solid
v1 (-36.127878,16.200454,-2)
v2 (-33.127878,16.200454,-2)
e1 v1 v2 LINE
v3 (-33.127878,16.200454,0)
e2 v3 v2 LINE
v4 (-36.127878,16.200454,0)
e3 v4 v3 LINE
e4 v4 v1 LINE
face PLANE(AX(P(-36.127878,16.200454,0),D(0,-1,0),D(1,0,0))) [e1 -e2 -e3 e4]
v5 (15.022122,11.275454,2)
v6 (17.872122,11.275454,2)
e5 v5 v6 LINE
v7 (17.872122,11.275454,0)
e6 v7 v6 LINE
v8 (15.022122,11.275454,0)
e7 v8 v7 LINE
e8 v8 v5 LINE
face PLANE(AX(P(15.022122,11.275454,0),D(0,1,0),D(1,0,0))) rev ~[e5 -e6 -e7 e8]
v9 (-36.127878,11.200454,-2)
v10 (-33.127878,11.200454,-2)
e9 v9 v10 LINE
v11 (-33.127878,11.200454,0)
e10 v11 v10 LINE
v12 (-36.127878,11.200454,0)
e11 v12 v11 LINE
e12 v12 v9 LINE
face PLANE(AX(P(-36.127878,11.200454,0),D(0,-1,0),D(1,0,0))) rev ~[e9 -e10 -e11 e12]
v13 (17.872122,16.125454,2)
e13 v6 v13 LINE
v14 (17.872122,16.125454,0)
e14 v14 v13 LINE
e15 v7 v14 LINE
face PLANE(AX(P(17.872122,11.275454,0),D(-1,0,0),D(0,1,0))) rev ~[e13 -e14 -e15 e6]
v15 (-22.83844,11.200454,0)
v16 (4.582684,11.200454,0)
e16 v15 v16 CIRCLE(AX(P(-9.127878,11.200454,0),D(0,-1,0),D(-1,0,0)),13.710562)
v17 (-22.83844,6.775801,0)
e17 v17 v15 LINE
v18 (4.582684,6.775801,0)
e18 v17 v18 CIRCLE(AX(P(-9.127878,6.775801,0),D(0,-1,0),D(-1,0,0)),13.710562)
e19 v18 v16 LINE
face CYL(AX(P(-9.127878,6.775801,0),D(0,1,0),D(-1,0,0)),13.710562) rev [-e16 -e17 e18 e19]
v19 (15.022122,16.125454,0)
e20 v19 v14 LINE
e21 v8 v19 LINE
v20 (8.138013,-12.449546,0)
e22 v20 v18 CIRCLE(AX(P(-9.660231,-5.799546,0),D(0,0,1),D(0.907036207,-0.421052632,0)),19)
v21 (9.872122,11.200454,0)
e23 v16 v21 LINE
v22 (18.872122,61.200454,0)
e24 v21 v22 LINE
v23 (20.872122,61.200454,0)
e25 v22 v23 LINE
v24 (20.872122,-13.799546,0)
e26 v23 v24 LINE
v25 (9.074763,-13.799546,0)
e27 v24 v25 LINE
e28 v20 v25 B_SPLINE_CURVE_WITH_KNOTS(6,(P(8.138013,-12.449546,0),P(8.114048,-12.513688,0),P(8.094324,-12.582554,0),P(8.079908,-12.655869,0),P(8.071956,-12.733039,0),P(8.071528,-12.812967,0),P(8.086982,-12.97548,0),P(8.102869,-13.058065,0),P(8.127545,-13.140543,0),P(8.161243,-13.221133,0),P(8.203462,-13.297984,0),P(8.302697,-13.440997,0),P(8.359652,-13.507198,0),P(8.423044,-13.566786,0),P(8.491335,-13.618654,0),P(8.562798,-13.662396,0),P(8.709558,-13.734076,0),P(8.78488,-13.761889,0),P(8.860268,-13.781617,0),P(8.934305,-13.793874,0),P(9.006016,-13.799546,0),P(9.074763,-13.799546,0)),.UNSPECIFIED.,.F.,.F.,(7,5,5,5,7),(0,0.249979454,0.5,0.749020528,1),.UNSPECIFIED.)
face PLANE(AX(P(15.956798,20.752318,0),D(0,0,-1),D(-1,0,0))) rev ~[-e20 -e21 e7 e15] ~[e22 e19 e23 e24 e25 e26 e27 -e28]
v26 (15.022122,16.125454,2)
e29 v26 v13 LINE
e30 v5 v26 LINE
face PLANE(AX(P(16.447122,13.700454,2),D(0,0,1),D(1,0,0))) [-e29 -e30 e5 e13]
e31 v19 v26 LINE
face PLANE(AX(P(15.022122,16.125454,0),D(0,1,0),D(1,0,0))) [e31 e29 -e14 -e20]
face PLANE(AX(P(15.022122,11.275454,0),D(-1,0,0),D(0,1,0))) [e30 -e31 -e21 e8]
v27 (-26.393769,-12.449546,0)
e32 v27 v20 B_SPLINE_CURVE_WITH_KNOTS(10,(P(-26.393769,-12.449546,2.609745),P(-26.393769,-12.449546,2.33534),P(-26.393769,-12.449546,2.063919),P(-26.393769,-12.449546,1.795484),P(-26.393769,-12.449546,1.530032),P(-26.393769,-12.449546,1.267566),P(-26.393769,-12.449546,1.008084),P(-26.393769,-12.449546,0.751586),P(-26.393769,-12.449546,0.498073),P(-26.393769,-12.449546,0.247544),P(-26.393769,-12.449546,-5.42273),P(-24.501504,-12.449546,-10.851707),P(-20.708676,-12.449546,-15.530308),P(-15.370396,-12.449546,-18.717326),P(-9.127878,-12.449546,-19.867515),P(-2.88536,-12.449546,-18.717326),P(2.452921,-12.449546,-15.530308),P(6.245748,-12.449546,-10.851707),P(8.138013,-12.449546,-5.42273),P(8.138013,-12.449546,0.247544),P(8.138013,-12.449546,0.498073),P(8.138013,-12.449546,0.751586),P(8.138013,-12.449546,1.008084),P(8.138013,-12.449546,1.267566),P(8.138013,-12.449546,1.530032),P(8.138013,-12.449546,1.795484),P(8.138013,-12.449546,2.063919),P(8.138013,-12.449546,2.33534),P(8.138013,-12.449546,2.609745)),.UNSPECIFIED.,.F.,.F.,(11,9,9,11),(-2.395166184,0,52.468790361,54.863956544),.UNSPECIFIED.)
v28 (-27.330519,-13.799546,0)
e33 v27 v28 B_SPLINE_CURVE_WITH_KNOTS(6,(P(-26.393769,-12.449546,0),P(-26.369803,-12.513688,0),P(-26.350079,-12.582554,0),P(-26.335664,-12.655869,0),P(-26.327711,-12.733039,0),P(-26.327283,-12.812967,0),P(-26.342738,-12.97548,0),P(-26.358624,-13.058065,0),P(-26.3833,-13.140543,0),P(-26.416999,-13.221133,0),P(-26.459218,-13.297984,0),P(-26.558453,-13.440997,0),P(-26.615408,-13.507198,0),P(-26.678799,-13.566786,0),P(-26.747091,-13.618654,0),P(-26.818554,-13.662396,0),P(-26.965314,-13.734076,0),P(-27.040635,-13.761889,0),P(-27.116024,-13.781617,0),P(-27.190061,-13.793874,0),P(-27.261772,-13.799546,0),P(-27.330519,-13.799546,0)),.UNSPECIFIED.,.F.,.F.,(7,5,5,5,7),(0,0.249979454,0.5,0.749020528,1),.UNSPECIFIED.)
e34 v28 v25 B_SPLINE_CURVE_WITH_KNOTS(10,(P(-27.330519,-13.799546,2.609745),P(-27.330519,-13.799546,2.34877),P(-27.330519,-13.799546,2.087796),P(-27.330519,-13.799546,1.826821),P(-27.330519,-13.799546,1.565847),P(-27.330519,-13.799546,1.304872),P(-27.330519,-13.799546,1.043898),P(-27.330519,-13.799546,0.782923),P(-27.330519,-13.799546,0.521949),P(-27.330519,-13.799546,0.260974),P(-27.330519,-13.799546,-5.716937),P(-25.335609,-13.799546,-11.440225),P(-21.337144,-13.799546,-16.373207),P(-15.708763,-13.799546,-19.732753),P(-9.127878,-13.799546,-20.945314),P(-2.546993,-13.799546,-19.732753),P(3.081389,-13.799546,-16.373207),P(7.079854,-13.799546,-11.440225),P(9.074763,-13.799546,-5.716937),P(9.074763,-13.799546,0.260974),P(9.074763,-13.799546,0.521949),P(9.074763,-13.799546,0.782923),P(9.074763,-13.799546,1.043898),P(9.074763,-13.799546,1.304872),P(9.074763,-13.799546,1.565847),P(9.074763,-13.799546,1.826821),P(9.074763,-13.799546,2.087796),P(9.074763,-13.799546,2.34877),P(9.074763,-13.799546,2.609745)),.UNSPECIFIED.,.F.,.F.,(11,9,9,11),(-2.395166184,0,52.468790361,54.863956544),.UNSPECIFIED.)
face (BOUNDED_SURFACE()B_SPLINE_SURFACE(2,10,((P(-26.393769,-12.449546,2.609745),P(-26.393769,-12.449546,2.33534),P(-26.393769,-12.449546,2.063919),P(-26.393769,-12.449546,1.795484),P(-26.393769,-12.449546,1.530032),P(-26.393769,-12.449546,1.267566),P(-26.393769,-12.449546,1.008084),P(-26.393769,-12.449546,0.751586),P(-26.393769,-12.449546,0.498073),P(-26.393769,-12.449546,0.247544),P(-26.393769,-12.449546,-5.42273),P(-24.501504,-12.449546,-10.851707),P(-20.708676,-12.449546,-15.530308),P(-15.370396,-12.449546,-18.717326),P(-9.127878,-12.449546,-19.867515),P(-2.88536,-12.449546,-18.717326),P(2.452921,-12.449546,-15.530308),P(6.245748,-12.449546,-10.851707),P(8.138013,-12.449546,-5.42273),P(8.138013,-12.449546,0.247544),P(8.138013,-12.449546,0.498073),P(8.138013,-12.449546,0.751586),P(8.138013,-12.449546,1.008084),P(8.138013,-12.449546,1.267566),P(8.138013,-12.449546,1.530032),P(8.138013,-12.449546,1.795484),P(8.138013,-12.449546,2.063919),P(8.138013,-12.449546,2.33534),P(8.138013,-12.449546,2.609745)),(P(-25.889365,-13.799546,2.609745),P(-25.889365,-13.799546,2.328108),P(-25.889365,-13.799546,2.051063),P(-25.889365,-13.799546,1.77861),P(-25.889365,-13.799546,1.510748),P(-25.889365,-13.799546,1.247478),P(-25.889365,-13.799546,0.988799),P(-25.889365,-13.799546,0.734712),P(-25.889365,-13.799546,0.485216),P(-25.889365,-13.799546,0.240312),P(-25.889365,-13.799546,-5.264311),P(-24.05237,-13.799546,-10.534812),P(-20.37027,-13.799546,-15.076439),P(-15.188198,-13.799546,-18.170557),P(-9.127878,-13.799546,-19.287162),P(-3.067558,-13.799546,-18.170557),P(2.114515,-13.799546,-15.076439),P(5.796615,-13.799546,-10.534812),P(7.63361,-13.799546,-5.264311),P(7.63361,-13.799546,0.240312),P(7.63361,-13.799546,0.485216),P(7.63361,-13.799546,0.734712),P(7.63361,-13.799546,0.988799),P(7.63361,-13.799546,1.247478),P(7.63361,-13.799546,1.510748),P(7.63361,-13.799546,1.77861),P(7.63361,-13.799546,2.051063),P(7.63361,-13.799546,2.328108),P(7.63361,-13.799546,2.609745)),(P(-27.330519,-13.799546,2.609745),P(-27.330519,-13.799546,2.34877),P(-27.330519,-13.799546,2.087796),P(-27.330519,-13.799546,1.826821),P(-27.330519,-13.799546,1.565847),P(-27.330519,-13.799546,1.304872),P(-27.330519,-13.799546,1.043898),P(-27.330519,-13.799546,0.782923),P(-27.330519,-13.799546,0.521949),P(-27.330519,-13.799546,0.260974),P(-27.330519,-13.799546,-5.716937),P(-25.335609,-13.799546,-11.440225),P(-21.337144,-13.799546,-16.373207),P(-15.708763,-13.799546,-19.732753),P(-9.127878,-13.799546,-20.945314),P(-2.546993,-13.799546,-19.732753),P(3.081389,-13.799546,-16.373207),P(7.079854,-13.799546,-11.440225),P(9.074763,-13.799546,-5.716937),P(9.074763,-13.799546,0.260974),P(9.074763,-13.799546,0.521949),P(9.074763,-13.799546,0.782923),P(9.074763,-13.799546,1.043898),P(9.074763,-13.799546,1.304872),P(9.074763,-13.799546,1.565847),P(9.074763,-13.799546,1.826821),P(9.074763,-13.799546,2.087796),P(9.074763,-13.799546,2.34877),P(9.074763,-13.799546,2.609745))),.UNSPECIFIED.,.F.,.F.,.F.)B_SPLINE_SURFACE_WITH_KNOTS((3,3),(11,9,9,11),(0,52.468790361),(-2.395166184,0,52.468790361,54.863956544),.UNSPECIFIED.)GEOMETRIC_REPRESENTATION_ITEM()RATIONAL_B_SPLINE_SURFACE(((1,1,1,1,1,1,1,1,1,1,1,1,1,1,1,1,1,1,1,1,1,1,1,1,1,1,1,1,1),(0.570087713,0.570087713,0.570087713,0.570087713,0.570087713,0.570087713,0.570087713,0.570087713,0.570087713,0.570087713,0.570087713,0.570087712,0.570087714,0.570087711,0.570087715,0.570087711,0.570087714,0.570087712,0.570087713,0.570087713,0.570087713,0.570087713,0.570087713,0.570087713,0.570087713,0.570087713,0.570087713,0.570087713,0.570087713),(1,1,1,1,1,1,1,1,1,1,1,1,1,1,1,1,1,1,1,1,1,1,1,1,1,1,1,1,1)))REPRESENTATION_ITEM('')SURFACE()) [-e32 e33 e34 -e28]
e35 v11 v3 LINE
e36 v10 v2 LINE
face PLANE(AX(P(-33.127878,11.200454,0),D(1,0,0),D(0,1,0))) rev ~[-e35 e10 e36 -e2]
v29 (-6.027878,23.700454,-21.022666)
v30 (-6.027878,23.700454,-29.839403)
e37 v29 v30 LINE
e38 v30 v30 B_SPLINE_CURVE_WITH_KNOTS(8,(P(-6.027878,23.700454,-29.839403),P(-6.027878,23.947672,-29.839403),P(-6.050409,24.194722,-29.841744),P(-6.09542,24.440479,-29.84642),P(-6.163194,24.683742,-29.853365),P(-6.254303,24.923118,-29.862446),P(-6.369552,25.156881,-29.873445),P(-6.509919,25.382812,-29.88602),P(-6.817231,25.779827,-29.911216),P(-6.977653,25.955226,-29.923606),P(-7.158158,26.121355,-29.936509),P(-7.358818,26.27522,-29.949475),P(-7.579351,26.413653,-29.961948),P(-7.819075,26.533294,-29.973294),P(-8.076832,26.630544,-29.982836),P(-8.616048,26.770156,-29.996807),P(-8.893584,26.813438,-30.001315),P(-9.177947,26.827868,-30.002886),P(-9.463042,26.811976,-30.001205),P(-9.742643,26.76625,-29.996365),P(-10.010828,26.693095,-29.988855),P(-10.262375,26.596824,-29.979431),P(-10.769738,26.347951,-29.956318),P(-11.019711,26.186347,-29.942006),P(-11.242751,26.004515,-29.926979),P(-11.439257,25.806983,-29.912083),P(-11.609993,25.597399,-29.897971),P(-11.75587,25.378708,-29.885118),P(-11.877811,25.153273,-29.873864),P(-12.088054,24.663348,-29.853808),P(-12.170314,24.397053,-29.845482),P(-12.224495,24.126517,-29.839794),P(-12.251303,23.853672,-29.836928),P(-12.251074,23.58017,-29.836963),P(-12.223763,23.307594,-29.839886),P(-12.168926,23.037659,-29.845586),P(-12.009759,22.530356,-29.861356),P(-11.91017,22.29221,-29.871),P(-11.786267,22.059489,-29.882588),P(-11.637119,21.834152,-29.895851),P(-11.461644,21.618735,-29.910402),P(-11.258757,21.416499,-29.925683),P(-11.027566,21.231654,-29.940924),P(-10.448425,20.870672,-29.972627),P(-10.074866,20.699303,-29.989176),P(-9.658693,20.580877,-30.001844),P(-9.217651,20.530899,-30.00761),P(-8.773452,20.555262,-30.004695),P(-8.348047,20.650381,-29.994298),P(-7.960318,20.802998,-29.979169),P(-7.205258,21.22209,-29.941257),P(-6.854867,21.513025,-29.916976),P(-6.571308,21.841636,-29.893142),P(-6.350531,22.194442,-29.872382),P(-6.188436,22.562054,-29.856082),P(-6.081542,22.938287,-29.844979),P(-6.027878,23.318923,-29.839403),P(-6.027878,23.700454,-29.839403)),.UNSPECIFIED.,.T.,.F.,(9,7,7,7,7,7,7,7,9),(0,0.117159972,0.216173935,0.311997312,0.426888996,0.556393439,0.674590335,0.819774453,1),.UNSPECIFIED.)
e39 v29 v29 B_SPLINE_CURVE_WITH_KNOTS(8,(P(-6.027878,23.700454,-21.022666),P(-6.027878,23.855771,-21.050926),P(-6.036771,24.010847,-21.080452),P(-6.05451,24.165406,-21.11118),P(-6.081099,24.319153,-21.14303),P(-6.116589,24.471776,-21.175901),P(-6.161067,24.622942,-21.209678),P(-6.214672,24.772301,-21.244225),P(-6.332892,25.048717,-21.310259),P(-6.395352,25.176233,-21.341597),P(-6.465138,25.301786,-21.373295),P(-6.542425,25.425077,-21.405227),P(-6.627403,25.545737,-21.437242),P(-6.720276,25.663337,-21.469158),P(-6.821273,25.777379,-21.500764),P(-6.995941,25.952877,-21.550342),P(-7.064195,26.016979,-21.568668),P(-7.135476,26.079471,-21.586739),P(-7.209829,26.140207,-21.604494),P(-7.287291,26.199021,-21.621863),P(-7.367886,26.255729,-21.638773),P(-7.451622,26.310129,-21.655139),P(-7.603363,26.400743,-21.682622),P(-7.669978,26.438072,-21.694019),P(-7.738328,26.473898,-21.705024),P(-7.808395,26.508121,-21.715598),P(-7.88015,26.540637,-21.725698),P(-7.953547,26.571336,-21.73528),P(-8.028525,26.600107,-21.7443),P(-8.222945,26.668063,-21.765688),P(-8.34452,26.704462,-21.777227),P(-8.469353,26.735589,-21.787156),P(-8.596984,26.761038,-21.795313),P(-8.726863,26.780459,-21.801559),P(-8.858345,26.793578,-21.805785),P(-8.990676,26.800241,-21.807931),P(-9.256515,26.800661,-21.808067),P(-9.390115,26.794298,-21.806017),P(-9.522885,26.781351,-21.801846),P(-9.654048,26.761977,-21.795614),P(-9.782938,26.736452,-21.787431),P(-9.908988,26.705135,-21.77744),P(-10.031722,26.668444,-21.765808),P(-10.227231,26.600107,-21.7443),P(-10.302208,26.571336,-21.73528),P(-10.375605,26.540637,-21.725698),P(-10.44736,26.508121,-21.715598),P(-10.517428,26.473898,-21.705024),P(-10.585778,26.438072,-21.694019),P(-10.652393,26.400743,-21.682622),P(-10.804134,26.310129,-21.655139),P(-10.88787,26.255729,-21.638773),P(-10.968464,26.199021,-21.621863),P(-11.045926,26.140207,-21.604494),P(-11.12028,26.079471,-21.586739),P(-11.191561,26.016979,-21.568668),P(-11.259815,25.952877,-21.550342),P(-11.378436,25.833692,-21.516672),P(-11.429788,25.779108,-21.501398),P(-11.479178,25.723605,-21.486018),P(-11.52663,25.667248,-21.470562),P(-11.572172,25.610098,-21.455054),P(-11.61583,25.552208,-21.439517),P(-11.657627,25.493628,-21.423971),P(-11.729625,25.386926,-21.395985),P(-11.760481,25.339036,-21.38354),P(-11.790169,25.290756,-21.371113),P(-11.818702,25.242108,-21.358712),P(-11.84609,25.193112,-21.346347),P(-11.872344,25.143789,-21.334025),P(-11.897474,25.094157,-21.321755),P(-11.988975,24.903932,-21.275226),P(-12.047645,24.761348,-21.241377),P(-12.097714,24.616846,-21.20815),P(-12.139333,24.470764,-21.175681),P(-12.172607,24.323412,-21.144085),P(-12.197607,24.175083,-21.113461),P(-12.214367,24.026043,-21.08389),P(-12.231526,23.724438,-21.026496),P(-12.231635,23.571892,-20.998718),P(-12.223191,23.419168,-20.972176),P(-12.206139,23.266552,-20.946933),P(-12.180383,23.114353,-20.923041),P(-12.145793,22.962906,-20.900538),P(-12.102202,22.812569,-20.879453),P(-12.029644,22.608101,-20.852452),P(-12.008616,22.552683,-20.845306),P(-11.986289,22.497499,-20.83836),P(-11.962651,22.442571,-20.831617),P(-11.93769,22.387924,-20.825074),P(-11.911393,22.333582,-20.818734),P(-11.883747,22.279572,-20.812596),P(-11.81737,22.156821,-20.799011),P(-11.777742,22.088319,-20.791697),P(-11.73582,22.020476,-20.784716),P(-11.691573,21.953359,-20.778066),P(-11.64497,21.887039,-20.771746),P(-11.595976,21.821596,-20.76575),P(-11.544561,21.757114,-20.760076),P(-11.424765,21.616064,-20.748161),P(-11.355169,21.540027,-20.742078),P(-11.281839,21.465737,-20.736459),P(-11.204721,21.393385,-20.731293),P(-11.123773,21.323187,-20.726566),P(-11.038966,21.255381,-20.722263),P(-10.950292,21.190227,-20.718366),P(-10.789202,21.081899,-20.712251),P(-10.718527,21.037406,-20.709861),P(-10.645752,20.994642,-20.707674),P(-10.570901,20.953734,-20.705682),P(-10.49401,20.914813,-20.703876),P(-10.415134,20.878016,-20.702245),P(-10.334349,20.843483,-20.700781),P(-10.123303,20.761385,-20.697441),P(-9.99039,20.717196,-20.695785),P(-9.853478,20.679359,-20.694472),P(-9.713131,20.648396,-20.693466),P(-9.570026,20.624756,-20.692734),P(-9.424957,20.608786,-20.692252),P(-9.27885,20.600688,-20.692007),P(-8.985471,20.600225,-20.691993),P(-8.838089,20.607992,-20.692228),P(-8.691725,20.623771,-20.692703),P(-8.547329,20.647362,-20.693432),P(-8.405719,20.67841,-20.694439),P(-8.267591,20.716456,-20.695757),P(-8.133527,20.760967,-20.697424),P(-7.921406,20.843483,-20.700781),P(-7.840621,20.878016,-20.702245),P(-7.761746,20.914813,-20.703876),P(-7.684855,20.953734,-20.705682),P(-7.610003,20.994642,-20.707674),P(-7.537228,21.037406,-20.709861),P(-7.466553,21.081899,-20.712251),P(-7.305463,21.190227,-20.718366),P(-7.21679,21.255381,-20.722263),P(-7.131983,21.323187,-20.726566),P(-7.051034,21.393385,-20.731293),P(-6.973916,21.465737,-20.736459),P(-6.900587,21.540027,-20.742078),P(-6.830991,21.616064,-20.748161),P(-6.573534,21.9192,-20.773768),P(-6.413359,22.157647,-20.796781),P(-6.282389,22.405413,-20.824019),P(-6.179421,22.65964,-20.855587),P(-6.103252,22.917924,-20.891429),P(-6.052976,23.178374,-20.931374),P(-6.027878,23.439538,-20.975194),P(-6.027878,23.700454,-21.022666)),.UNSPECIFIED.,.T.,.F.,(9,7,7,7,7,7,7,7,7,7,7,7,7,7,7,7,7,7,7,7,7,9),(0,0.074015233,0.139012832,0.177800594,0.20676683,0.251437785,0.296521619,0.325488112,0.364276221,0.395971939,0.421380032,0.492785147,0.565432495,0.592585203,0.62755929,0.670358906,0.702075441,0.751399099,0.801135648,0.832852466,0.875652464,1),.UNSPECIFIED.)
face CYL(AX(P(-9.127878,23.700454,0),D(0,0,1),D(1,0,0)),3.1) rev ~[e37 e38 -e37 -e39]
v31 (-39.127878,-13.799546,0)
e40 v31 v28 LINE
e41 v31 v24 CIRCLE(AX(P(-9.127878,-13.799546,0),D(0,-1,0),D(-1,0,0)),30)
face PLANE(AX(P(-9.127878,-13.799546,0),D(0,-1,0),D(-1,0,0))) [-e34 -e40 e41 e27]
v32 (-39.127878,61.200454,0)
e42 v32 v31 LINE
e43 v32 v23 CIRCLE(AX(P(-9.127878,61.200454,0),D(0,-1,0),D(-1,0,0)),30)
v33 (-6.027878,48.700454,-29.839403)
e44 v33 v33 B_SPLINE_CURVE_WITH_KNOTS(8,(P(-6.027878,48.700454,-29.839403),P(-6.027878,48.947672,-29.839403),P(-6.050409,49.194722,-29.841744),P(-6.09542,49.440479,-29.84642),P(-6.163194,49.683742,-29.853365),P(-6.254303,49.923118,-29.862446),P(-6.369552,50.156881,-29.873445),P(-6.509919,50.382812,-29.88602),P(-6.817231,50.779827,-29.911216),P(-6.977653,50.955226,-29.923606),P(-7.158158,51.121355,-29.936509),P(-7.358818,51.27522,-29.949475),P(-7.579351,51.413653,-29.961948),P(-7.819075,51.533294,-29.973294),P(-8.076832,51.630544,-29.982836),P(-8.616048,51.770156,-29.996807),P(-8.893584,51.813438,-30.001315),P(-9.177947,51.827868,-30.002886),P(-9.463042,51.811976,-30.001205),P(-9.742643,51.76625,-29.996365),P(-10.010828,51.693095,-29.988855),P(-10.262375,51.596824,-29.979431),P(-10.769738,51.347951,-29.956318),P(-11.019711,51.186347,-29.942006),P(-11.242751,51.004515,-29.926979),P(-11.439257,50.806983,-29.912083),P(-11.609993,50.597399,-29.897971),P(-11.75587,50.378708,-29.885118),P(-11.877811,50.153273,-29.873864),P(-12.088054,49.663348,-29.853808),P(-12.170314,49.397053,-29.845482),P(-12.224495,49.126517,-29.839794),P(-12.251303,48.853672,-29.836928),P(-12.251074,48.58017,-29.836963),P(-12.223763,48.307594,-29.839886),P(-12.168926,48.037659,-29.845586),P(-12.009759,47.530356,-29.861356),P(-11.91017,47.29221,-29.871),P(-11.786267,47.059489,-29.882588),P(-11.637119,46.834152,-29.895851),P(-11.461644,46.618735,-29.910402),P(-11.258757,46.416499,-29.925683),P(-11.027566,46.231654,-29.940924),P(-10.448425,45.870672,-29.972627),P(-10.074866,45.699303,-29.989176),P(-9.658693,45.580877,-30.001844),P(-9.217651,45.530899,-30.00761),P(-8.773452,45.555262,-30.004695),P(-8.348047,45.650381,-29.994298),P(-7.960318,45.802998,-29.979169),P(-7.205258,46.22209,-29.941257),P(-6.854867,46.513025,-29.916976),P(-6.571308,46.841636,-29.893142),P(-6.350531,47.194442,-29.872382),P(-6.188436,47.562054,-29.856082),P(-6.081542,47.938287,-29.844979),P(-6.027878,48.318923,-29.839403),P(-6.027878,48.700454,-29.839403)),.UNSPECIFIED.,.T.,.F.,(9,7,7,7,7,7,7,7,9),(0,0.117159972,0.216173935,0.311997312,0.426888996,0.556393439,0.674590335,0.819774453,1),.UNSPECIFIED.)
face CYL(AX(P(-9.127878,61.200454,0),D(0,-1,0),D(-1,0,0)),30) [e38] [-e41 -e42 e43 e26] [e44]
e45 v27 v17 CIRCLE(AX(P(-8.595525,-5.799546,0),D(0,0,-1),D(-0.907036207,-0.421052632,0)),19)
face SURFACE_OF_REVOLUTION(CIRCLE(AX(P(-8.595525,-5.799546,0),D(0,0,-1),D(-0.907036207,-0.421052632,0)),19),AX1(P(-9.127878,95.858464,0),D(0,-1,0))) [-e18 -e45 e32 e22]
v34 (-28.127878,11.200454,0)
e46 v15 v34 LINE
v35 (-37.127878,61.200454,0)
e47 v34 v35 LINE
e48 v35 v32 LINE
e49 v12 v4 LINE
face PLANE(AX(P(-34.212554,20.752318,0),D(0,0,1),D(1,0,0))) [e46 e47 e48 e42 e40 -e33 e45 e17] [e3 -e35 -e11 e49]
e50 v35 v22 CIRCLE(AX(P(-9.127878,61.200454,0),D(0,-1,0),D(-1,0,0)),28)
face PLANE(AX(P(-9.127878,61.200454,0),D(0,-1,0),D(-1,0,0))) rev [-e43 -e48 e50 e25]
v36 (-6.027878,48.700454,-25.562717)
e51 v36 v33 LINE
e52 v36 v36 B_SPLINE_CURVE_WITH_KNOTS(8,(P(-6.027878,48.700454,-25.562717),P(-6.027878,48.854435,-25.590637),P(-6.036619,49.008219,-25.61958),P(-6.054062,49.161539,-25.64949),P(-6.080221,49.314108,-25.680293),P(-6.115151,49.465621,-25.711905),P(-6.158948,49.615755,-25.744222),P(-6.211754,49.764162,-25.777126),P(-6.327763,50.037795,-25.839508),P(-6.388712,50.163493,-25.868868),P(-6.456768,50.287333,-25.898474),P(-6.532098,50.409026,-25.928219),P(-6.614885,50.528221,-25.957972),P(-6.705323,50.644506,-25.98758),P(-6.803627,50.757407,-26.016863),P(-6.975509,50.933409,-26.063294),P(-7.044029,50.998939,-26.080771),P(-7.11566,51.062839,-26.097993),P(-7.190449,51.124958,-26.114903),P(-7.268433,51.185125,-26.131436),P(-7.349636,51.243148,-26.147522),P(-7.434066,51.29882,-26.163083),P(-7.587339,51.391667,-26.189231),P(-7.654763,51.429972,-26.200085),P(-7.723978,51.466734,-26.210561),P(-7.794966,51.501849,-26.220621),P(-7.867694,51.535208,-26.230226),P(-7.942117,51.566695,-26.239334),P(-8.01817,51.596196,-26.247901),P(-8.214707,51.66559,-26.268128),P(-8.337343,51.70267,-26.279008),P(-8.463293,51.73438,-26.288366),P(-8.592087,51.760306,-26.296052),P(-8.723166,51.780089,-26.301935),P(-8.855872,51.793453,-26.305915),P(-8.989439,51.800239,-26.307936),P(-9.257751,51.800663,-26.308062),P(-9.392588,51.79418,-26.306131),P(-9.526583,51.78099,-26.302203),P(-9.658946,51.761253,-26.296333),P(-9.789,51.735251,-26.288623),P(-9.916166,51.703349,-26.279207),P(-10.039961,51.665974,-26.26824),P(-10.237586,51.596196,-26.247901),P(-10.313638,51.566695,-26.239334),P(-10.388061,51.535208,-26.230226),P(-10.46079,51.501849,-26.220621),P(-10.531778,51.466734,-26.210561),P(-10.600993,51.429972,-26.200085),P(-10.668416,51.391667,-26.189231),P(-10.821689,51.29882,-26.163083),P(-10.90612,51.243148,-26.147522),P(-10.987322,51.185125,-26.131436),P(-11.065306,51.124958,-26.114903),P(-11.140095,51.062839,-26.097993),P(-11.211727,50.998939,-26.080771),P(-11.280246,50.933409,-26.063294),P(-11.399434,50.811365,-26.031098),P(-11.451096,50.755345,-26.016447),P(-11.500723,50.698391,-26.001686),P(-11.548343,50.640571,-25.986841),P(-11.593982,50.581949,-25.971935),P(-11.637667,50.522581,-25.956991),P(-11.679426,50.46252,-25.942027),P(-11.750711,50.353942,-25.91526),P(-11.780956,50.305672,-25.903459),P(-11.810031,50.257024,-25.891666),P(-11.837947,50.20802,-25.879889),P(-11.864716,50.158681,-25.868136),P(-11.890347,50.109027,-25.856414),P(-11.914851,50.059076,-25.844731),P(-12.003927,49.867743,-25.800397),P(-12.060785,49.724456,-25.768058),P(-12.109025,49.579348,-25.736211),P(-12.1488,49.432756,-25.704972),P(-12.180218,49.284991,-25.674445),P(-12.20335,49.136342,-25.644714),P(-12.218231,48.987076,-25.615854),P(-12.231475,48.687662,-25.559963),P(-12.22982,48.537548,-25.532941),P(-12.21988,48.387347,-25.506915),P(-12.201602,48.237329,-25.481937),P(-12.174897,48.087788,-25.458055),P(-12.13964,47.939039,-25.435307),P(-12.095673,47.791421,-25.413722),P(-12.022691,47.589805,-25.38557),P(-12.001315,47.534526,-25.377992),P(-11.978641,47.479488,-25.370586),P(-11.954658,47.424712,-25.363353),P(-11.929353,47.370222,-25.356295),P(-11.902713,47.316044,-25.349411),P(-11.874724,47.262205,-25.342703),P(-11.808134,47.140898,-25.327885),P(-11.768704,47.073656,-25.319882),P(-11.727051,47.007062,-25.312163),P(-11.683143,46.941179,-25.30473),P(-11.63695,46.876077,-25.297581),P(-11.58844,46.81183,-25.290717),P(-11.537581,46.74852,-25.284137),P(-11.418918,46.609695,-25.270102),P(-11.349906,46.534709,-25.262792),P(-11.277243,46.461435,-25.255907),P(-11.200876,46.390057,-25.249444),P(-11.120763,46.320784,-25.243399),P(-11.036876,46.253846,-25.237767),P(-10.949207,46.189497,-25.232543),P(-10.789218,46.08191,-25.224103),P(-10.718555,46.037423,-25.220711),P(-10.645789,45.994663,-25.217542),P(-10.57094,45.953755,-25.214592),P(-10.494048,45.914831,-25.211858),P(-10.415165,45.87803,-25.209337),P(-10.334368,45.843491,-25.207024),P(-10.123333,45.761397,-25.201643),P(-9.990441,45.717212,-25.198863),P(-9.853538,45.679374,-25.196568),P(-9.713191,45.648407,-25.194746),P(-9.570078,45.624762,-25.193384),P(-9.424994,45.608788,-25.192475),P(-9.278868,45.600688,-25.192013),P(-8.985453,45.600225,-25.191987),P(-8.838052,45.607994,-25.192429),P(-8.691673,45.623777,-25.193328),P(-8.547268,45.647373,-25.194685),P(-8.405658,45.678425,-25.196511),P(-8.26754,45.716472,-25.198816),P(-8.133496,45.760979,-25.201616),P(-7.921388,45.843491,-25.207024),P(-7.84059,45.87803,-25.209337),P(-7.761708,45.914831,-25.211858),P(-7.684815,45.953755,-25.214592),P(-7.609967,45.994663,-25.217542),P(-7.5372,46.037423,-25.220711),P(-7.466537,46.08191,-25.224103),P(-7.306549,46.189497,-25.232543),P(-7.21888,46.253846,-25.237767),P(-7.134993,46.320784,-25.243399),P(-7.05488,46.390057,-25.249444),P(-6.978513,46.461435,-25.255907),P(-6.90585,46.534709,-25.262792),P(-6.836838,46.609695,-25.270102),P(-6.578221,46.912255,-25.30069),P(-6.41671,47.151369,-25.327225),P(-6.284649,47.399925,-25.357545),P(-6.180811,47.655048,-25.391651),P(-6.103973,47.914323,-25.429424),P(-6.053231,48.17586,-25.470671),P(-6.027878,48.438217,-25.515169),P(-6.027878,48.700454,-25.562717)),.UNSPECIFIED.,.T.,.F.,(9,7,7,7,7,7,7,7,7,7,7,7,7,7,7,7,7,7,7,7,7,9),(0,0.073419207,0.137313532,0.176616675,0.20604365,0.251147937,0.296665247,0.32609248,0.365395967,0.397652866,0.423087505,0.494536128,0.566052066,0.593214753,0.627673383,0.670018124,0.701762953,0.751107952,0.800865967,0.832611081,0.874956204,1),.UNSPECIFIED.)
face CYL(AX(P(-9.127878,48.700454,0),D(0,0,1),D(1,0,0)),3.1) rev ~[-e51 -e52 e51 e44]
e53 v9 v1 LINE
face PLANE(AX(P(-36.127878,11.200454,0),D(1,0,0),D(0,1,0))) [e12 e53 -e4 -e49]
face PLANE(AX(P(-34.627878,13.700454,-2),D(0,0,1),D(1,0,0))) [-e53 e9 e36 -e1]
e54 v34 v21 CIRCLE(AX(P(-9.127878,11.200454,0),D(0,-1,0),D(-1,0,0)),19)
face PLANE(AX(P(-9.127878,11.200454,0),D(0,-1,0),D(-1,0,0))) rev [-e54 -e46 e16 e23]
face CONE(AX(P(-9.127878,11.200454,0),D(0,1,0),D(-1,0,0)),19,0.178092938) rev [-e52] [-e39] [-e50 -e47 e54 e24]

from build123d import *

# Parameters (mm, degrees)
REVOLVE8_ANGLE      = 180
SKETCH5_W           = 2.85
SKETCH5_H           = 4.85
BOSS_EXTRUDE1_DEPTH = 2
SKETCH6_W           = 3
SKETCH6_H           = 5
CUT_EXTRUDE1_DEPTH  = 2
FILLET1_R           = 1
SKETCH7_R           = 3.1
CUT_EXTRUDE2_DEPTH  = 40


with BuildPart() as part:
    # Sketch3 → Revolve8 (revolve)
    with BuildSketch(Plane.XY):
        with BuildLine():
            Line((-28.127877823, 11.200453936), (-37.127877823, 61.200453936))
            Line((-37.127877823, 61.200453936), (-39.127877823, 61.200453936))
            Line((-39.127877823, 61.200453936), (-39.127877823, -13.799546064))
            Line((-39.127877823, -13.799546064), (-25.829212511, -13.799546064))
            ThreePointArc((-25.829212511, -13.799546064), (-27.397927857, -3.066483557), (-22.838440036, 6.77580121))
            Line((-22.838440036, 6.77580121), (-22.838440036, 11.200453936))
            Line((-22.838440036, 11.200453936), (-28.127877823, 11.200453936))
        make_face()
    revolve(axis=Axis((-9.127877823, 95.858464184, 0), (0, -1, 0)), revolution_arc=REVOLVE8_ANGLE)

    # Sketch5 → Boss-Extrude1 (add)
    with BuildSketch(Plane.XY):
        with Locations((16.447122177, 13.700453936)):
            Rectangle(SKETCH5_W, SKETCH5_H)
    extrude(amount=BOSS_EXTRUDE1_DEPTH)

    # Sketch6 → Cut-Extrude1 (cut)
    with BuildSketch(Plane.XY):
        with Locations((-34.627877823, 13.700453936)):
            Rectangle(SKETCH6_W, SKETCH6_H)
    extrude(amount=-CUT_EXTRUDE1_DEPTH, mode=Mode.SUBTRACT)

    # Fillet1
    fillet1_edges = [part.edges().sort_by_distance(p)[0] for p in [
        (-9.127877823, -13.799546064, -16.701334688),
    ]]
    fillet(fillet1_edges, radius=FILLET1_R)

    # Sketch7 → Cut-Extrude2 (cut)
    with BuildSketch(Plane.XY):
        with Locations((-9.127877823, 23.700453936)):
            Circle(SKETCH7_R)
        with Locations((-9.127877823, 48.700453936)):
            Circle(SKETCH7_R)
    extrude(amount=-CUT_EXTRUDE2_DEPTH, mode=Mode.SUBTRACT)


solid = part.part
